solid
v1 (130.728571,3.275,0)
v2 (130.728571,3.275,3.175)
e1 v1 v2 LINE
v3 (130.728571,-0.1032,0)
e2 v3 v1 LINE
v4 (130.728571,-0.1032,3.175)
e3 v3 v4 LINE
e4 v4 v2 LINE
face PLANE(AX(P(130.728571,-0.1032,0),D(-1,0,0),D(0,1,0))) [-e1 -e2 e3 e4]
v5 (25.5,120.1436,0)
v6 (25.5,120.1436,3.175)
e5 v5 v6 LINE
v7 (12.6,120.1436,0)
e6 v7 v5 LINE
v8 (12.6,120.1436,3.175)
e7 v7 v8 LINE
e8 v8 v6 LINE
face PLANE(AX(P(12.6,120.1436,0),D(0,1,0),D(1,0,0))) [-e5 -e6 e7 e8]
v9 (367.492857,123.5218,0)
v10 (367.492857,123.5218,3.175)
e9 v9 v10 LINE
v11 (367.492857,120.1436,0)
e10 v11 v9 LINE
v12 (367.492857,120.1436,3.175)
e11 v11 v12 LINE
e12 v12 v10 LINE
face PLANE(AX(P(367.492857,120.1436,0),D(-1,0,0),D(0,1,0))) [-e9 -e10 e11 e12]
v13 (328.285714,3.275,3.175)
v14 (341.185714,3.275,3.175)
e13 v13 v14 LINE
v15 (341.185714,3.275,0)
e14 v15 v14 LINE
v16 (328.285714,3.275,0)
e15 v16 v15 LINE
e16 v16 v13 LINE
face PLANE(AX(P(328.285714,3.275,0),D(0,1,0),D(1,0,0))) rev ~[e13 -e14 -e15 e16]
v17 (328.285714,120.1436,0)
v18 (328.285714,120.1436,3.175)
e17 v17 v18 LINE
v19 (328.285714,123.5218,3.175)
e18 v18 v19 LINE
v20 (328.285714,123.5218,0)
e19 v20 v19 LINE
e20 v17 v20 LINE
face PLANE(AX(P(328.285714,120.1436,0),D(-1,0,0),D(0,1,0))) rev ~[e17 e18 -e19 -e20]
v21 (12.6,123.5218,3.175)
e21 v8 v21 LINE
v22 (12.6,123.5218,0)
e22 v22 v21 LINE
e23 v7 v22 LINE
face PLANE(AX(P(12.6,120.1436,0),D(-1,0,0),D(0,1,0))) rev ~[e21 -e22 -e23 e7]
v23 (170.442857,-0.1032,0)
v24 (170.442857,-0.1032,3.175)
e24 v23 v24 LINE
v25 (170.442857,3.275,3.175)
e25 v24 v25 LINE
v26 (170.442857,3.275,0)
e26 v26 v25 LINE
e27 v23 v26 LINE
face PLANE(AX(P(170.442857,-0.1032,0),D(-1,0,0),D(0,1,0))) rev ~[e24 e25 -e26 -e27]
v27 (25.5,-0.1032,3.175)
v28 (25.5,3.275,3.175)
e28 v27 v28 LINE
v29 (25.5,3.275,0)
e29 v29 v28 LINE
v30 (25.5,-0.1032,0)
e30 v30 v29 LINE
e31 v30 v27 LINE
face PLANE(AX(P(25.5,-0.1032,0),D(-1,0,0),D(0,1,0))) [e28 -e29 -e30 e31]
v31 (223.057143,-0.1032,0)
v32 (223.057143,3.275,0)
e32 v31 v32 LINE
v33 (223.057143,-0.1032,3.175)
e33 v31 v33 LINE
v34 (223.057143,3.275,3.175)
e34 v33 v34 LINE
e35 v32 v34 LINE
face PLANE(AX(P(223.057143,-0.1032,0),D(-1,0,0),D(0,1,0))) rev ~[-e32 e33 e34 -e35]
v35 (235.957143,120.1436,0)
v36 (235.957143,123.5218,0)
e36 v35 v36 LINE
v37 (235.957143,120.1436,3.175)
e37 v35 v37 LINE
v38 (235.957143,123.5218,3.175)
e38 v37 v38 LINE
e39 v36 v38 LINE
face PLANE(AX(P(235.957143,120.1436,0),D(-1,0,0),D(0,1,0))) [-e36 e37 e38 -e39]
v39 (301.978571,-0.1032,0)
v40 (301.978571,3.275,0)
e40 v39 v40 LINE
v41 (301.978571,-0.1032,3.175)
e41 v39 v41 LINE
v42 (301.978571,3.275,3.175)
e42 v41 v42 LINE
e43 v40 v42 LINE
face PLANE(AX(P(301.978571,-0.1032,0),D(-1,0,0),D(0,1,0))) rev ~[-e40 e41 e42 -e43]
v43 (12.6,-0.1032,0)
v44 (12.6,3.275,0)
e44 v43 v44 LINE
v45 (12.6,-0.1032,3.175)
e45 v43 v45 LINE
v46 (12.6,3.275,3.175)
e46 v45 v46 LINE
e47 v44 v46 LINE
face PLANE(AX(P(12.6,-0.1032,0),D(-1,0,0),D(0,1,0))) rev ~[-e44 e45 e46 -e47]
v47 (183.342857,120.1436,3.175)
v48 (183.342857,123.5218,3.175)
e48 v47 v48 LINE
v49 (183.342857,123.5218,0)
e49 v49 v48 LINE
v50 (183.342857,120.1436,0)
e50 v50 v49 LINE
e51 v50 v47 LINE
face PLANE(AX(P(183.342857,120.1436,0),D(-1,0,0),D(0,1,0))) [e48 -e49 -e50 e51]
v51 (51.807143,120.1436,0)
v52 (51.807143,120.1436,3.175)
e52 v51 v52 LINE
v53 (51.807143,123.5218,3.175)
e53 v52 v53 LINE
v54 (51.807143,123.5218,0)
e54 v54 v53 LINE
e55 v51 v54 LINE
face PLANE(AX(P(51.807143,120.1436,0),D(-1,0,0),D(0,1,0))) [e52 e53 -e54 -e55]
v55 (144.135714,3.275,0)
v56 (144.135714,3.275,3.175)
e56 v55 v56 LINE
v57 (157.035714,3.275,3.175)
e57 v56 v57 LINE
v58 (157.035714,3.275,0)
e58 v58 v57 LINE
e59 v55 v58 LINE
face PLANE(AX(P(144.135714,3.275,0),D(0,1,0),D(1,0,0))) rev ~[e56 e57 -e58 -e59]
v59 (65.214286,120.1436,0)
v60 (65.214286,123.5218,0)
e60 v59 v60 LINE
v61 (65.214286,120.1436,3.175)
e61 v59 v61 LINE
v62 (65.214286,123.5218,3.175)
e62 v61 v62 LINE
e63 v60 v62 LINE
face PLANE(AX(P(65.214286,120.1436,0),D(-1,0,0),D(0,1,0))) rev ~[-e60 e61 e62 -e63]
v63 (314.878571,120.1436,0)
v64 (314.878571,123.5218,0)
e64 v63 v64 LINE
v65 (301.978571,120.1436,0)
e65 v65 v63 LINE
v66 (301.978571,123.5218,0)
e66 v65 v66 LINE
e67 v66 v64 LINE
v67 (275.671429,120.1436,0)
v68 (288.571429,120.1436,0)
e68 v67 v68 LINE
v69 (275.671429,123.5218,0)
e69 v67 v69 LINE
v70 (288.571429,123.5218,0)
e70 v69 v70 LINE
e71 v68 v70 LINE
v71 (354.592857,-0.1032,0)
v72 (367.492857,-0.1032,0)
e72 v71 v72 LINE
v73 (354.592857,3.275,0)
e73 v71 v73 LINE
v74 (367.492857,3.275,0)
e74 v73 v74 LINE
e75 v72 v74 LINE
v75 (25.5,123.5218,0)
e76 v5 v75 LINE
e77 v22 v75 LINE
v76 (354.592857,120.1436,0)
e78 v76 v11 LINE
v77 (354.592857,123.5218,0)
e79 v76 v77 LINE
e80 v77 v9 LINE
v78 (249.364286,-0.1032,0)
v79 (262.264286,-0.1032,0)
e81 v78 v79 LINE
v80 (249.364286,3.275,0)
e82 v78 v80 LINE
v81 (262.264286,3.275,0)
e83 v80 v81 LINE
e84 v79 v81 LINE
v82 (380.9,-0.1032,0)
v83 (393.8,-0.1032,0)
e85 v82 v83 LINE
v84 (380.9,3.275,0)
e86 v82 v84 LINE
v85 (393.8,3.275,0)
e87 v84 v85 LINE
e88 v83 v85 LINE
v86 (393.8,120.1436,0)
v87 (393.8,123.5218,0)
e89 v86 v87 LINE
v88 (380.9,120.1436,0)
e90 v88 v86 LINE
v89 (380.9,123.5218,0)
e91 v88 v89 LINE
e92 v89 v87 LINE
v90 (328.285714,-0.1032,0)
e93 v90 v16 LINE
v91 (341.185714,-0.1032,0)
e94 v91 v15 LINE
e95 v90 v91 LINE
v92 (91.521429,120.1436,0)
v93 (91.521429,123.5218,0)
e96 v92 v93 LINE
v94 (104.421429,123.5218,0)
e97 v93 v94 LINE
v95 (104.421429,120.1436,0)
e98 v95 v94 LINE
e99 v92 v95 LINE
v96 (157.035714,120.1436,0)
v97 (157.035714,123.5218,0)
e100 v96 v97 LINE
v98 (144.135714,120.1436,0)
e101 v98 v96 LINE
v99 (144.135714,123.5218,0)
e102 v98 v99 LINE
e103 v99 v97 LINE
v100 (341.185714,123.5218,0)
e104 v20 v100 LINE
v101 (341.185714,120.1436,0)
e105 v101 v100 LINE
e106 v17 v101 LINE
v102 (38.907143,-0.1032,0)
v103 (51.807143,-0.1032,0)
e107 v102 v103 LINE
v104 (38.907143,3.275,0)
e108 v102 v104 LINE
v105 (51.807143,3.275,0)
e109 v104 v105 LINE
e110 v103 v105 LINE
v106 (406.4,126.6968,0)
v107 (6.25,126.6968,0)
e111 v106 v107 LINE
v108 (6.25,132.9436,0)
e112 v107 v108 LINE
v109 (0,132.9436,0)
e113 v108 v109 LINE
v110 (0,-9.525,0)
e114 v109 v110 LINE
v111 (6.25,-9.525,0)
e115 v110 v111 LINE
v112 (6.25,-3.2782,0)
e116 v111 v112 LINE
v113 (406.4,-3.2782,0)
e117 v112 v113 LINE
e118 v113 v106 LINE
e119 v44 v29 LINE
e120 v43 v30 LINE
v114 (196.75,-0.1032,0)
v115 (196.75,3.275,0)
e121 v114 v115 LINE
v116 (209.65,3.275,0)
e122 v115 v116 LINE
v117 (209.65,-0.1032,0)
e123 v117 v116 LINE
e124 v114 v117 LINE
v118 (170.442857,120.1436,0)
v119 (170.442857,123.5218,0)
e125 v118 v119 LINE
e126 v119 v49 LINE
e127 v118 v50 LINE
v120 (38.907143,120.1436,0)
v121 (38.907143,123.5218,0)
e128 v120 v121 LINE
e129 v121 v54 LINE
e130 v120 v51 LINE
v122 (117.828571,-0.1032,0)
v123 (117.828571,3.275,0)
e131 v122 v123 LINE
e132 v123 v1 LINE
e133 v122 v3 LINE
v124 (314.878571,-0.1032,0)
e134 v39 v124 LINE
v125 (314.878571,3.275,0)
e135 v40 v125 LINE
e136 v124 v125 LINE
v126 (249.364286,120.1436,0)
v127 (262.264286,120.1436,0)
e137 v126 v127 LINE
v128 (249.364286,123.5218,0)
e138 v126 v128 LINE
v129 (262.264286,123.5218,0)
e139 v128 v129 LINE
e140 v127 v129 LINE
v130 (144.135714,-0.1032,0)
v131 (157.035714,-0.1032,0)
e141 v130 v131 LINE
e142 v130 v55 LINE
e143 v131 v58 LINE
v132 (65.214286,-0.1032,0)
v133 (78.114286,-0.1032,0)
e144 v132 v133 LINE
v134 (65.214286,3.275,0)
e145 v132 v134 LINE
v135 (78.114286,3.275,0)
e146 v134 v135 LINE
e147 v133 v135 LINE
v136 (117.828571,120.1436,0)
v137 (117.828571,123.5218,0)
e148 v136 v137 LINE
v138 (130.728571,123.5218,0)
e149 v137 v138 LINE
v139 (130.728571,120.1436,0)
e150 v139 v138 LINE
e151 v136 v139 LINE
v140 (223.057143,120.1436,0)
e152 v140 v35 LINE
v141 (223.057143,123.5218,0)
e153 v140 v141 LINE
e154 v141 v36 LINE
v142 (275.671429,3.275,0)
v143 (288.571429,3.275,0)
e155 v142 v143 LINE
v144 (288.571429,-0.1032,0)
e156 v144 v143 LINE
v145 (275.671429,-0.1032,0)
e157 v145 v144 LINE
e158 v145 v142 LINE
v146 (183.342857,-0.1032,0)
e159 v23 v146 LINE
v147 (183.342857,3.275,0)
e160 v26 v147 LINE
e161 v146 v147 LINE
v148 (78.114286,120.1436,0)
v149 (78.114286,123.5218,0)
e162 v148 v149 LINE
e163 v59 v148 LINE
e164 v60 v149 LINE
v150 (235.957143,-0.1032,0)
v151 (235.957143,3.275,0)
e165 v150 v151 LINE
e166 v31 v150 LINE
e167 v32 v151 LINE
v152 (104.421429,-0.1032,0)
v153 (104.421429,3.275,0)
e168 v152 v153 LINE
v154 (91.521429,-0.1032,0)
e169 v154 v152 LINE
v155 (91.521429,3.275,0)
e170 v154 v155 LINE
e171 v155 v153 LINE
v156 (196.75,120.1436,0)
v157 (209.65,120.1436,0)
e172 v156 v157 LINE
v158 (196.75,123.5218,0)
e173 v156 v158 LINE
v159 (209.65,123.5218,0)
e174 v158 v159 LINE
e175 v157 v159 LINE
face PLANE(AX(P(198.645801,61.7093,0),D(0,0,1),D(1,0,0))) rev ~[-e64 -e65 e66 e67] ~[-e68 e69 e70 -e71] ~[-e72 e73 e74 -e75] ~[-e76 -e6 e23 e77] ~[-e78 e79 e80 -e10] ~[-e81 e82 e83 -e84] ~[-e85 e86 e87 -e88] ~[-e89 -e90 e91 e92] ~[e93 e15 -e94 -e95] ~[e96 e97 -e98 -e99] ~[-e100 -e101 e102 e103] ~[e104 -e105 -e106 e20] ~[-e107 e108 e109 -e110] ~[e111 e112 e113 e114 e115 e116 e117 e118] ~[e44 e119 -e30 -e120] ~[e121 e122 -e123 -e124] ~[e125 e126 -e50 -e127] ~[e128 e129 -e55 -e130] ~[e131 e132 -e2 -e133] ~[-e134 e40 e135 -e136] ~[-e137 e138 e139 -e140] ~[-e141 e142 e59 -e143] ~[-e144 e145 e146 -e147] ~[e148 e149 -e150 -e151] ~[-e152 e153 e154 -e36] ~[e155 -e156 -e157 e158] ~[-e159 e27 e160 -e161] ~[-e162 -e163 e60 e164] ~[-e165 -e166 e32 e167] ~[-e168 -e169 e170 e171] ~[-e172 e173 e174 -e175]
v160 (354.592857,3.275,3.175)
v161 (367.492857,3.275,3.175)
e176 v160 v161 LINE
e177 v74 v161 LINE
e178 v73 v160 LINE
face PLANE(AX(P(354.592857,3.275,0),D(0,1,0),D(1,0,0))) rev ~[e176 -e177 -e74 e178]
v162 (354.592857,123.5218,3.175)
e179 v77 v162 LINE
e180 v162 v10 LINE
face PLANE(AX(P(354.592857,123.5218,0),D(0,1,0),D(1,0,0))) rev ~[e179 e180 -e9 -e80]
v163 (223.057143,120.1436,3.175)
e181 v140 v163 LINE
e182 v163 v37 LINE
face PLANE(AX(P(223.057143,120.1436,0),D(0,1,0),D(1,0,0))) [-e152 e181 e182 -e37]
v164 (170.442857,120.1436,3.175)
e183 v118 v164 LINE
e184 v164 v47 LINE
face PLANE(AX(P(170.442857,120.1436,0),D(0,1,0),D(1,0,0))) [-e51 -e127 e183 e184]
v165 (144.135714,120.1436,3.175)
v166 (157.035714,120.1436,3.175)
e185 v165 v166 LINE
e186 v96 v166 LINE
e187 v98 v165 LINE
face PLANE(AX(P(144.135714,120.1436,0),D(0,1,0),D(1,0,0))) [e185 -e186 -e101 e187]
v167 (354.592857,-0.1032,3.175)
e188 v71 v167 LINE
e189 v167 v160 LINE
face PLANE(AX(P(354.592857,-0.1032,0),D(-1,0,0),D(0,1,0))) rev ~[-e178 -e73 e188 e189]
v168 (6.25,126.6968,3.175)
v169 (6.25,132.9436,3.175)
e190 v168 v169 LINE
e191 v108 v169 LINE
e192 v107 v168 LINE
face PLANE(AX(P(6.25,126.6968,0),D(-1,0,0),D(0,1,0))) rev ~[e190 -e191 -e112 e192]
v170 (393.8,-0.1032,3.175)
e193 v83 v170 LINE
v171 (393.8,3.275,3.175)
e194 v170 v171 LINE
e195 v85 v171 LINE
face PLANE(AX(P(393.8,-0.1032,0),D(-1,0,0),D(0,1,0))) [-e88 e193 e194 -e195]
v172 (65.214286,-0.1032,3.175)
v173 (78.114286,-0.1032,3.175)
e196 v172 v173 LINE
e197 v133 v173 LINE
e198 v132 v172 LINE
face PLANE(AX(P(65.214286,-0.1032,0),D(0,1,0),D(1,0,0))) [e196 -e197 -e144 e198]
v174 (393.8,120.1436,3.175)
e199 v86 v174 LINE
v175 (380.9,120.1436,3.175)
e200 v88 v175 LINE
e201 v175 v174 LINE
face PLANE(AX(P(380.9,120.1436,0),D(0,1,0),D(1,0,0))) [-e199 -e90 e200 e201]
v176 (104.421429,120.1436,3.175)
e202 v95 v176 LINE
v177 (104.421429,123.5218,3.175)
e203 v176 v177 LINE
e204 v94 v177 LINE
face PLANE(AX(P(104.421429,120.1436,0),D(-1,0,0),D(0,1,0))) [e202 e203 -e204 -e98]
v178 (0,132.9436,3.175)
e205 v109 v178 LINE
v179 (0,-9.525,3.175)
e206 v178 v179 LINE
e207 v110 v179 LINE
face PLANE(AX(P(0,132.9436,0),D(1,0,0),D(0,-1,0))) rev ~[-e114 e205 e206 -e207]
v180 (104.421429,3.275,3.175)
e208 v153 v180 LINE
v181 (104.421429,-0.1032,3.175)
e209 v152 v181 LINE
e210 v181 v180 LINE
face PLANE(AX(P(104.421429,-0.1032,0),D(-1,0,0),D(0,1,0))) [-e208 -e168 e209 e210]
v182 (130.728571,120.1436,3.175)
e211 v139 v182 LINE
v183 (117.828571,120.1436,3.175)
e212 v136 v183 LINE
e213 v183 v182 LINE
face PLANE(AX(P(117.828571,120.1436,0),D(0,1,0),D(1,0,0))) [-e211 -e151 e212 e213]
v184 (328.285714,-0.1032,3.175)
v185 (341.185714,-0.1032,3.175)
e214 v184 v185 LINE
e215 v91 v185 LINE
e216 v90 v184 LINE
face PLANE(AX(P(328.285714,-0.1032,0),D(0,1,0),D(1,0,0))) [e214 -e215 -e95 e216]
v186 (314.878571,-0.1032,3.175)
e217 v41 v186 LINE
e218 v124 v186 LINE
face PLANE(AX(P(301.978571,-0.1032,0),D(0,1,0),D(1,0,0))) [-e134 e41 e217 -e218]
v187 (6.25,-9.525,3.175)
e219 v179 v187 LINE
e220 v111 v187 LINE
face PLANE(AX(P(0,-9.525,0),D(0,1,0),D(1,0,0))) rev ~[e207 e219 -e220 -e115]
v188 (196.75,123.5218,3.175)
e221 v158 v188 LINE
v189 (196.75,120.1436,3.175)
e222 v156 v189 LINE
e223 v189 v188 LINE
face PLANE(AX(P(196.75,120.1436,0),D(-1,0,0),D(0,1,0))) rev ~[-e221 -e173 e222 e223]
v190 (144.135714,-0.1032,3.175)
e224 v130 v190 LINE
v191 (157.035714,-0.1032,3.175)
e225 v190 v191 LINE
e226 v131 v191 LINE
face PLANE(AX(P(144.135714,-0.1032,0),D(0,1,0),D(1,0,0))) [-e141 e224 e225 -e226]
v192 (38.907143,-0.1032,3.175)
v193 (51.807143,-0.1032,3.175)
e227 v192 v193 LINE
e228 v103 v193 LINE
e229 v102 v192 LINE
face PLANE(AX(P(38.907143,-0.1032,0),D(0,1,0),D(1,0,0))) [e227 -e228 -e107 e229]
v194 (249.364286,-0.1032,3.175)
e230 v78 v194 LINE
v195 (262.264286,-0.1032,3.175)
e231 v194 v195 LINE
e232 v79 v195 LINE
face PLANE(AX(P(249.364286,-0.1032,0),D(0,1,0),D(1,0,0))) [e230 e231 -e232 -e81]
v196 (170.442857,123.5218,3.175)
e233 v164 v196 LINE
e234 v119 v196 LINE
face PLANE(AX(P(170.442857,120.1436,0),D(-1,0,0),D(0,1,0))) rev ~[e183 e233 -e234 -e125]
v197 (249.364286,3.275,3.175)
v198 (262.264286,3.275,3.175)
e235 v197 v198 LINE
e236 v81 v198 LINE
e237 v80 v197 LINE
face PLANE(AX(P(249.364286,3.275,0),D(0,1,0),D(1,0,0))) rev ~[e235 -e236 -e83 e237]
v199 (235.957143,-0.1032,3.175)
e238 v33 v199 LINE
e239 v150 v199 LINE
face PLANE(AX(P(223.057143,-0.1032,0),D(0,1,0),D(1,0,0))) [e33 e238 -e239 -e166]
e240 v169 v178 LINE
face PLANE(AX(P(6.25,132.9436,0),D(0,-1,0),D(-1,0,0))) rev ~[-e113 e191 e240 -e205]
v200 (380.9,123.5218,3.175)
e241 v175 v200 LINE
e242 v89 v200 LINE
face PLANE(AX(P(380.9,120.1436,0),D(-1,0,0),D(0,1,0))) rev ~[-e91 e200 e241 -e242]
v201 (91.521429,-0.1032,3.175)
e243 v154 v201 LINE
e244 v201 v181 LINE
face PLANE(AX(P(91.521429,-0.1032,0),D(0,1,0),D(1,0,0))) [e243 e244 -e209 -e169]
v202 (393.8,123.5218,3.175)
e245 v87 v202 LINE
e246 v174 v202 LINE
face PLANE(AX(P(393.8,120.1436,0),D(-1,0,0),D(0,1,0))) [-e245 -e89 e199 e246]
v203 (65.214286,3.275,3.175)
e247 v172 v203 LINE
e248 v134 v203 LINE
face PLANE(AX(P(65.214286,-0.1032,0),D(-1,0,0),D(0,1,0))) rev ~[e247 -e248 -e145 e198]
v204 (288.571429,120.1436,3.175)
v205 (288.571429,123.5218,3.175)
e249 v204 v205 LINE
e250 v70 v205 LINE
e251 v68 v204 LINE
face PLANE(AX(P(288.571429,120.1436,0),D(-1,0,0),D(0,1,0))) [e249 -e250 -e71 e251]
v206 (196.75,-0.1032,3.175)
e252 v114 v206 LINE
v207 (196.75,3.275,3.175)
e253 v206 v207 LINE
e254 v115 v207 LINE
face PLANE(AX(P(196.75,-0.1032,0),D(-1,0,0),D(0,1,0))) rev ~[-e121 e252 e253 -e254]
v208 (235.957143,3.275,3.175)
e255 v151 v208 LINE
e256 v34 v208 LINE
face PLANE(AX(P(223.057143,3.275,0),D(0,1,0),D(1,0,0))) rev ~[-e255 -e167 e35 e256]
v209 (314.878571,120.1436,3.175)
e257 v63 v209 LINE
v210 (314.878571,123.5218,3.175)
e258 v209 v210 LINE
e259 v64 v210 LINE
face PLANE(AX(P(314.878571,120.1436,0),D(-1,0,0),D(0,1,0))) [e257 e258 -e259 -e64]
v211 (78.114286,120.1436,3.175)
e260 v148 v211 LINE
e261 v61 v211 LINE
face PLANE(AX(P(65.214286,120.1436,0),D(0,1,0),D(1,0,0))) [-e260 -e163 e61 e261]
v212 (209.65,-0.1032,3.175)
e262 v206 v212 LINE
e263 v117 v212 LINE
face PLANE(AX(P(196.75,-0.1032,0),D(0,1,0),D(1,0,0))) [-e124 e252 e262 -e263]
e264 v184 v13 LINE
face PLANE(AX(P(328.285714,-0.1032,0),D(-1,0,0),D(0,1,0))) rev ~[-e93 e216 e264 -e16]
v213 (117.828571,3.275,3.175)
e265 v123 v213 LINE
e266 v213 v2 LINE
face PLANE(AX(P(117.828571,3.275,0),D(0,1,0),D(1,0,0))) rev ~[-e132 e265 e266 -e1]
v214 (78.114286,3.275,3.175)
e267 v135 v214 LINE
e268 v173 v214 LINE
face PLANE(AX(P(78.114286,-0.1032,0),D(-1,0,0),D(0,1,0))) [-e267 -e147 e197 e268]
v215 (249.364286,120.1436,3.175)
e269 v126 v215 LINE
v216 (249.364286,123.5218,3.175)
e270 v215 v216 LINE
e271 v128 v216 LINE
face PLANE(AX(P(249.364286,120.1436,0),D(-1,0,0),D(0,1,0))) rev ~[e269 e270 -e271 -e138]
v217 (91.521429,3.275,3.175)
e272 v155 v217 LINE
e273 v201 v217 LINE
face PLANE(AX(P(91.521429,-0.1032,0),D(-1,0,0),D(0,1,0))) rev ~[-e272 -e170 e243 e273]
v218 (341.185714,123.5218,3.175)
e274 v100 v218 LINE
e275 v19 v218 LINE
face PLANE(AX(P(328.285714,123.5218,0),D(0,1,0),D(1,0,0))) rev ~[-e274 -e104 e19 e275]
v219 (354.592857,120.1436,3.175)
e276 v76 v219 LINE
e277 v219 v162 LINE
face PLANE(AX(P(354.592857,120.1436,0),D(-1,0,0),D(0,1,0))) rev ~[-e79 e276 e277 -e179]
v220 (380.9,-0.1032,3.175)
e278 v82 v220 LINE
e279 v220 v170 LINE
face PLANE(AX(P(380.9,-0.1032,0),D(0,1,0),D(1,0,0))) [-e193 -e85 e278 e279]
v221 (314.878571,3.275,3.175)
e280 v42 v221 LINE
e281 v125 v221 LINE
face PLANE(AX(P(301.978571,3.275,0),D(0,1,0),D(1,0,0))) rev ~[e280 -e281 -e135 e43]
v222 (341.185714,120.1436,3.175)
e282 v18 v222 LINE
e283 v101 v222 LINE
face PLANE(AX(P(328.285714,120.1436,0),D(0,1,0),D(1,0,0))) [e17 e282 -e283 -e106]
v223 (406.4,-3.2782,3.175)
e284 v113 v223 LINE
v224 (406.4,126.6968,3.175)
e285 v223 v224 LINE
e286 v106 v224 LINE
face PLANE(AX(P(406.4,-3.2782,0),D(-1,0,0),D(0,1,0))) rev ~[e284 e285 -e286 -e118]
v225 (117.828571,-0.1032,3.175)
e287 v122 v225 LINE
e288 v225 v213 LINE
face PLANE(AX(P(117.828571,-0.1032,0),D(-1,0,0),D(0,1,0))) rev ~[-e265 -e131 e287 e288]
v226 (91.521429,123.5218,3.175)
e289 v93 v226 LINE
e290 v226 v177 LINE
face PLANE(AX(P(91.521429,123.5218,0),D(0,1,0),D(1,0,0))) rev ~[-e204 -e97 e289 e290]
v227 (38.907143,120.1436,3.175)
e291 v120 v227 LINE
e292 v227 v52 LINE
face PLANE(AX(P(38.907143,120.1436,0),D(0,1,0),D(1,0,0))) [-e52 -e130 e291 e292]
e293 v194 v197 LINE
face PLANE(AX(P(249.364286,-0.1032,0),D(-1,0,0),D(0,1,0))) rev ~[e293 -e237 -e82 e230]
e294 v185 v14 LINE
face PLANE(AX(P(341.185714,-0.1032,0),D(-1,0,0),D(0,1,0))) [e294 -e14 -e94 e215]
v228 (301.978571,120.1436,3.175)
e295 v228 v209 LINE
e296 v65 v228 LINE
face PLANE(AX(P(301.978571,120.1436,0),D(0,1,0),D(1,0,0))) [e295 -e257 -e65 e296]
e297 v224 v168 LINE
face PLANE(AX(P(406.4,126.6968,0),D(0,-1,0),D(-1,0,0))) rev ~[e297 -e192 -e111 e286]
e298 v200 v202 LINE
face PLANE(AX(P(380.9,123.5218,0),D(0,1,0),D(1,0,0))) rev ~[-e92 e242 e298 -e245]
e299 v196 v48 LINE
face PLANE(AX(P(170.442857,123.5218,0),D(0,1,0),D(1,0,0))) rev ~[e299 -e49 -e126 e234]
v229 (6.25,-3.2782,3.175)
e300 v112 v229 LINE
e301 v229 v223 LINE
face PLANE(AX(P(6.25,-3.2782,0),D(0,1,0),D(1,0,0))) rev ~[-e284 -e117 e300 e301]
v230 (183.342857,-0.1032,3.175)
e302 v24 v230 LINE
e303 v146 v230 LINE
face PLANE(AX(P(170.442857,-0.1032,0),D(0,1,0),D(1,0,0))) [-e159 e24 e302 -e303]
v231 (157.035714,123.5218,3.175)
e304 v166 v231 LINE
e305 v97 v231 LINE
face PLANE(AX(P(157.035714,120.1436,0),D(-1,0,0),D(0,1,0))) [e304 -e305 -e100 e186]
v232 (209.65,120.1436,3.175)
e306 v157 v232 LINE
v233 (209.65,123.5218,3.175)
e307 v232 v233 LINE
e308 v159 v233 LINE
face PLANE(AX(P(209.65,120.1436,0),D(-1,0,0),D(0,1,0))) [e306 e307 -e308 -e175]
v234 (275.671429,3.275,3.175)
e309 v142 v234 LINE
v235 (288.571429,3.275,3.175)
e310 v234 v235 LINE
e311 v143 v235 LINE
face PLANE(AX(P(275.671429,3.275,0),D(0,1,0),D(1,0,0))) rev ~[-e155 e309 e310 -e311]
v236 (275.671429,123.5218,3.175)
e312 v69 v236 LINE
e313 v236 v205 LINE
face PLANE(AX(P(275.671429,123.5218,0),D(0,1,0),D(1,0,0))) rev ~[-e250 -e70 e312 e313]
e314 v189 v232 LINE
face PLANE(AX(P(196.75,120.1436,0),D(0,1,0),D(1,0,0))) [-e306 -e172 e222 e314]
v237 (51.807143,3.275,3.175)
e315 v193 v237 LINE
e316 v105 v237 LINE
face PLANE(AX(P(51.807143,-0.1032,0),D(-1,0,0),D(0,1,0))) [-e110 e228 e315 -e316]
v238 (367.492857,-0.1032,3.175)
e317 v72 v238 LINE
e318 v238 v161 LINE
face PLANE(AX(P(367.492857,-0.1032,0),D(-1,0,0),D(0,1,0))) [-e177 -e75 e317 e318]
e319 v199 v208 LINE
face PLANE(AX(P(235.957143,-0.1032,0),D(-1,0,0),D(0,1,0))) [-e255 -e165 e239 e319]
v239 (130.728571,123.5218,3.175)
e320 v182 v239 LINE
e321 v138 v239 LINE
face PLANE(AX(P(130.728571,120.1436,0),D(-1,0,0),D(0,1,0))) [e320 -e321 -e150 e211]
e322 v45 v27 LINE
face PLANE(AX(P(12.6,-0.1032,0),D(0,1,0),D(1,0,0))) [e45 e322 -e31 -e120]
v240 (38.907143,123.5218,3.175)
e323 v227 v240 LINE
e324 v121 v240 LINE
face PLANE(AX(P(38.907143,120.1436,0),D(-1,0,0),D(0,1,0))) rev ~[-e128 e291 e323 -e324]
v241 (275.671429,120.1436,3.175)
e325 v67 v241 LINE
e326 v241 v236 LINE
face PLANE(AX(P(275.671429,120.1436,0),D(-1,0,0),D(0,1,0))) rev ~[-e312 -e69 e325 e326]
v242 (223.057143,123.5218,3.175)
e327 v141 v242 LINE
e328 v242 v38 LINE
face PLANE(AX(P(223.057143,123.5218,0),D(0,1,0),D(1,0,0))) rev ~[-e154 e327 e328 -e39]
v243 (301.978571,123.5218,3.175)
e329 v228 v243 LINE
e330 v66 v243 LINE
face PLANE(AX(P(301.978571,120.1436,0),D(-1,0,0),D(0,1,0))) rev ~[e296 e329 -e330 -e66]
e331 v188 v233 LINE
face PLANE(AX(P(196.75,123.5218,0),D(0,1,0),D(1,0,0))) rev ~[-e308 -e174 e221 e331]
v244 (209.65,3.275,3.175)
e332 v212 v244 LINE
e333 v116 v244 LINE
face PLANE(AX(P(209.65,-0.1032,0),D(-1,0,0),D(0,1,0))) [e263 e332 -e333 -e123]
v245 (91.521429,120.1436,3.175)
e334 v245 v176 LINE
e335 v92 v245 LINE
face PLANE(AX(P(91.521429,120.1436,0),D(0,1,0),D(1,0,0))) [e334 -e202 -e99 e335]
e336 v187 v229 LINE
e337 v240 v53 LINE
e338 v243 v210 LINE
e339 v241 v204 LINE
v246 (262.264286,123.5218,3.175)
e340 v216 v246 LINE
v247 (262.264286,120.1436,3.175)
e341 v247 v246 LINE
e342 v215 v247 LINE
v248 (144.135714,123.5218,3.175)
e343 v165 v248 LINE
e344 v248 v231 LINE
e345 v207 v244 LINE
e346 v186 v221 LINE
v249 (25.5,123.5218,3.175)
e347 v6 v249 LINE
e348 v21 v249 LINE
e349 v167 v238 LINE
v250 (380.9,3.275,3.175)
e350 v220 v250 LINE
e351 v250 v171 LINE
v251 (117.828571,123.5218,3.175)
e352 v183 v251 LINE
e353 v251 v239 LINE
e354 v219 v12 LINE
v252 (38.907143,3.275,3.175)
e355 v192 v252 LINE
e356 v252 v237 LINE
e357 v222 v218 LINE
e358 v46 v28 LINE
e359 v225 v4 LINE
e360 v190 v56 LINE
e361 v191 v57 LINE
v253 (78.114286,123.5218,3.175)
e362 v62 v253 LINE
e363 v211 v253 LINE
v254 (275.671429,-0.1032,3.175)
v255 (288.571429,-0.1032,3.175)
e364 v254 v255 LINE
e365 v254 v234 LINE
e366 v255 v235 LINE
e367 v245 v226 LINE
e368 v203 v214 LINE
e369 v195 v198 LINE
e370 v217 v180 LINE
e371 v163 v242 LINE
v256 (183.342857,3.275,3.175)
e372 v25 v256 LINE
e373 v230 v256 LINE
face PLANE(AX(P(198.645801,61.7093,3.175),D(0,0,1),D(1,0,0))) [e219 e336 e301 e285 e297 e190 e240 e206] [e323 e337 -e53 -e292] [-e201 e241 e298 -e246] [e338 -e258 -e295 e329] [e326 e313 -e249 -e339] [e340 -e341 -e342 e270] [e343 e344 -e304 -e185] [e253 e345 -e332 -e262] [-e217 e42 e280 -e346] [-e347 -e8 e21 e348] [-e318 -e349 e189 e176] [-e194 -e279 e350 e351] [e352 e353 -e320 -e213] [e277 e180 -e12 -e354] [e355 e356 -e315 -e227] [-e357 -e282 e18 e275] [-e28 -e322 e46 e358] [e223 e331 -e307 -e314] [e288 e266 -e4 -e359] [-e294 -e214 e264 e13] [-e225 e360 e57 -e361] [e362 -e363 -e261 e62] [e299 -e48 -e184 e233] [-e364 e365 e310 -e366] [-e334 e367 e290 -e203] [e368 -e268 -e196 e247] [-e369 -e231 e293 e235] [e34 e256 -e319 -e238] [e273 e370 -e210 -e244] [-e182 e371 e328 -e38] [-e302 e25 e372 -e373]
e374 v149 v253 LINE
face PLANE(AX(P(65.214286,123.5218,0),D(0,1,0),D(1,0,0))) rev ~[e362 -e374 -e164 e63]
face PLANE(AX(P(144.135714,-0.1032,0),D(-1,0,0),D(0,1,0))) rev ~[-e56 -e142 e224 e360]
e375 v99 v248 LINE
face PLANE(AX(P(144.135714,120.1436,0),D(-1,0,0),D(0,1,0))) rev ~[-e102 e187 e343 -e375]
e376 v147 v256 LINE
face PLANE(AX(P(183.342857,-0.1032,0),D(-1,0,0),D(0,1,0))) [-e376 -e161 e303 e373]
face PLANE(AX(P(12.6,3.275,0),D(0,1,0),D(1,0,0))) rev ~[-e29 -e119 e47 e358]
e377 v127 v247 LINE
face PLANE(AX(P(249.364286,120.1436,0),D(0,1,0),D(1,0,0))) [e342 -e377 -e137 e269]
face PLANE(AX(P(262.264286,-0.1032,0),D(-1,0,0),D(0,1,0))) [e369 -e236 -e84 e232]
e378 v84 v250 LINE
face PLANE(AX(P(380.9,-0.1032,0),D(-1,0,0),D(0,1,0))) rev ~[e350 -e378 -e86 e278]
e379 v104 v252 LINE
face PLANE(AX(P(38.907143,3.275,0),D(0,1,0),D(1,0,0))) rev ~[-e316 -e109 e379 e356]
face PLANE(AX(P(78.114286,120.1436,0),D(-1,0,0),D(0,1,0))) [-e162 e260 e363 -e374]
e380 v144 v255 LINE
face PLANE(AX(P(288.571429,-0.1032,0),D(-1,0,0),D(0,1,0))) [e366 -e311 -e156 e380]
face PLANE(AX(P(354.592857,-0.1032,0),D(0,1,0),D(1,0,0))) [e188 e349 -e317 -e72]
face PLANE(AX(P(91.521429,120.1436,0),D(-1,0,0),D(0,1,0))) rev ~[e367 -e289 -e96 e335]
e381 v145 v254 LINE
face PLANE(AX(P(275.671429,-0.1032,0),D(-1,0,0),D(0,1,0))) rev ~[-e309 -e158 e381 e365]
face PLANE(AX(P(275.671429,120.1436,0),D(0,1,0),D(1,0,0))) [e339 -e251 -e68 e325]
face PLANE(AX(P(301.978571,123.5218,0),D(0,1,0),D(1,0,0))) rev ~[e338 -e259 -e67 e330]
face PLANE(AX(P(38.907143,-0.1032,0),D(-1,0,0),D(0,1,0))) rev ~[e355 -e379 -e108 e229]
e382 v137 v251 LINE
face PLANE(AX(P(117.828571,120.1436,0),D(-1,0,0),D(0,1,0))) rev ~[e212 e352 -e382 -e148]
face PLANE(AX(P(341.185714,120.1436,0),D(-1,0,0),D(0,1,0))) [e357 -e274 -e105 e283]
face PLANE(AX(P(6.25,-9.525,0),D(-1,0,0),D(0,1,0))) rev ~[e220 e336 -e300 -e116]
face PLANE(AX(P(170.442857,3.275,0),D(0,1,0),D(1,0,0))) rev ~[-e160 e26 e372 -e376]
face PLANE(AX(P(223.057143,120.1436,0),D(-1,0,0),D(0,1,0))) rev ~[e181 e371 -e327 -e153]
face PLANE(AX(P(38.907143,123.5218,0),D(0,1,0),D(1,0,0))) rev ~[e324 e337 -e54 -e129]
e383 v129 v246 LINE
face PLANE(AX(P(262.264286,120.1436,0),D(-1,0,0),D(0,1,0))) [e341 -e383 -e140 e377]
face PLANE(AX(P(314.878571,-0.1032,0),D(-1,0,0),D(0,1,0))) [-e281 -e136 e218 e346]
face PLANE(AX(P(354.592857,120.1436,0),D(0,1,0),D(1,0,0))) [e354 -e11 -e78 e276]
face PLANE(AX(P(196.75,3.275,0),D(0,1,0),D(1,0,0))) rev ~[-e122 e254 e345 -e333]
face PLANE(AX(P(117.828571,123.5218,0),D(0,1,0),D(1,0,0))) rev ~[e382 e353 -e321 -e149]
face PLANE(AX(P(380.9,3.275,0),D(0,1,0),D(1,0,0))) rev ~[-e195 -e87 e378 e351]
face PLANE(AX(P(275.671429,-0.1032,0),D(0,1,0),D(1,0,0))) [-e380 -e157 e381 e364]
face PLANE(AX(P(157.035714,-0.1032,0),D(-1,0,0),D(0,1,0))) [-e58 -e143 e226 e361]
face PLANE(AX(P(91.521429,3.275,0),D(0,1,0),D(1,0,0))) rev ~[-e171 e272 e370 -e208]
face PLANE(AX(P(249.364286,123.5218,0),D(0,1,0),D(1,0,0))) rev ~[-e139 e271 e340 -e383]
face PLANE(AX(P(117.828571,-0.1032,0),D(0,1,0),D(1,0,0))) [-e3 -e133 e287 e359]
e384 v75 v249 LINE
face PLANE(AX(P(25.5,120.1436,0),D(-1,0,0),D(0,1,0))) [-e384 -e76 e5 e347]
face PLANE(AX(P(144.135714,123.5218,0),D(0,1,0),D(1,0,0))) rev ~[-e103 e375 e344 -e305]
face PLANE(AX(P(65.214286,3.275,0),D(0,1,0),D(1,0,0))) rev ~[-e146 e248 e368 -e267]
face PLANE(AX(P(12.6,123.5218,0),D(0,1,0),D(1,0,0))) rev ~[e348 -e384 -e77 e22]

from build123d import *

# Parameters (mm, degrees)
SKETCH1_W           = 12.9
SKETCH1_H           = 3.3782
BOSS_EXTRUDE2_DEPTH = 3.175


with BuildPart() as part:
    # Sketch1 → Boss-Extrude2 (new body)
    with BuildSketch(Plane.XY):
        Polygon((6.2500002, -9.525), (6.2500002, -3.2782), (406.4, -3.2782), (406.4, 126.6968), (6.2500002, 126.6968), (6.2500002, 132.9436), (0, 132.9436), (0, -9.525), align=None)
        with Locations((19.05, 121.8327)):
            Rectangle(SKETCH1_W, SKETCH1_H, mode=Mode.SUBTRACT)
        with Locations((45.357142857, 121.8327)):
            Rectangle(SKETCH1_W, SKETCH1_H, mode=Mode.SUBTRACT)
        with Locations((387.35, 121.8327)):
            Rectangle(SKETCH1_W, SKETCH1_H, mode=Mode.SUBTRACT)
        with Locations((361.042857143, 121.8327)):
            Rectangle(SKETCH1_W, SKETCH1_H, mode=Mode.SUBTRACT)
        with Locations((71.664285714, 121.8327)):
            Rectangle(SKETCH1_W, SKETCH1_H, mode=Mode.SUBTRACT)
        with Locations((97.971428571, 121.8327)):
            Rectangle(SKETCH1_W, SKETCH1_H, mode=Mode.SUBTRACT)
        with Locations((124.278571429, 121.8327)):
            Rectangle(SKETCH1_W, SKETCH1_H, mode=Mode.SUBTRACT)
        with Locations((150.585714286, 121.8327)):
            Rectangle(SKETCH1_W, SKETCH1_H, mode=Mode.SUBTRACT)
        with Locations((176.892857143, 121.8327)):
            Rectangle(SKETCH1_W, SKETCH1_H, mode=Mode.SUBTRACT)
        with Locations((203.2, 121.8327)):
            Rectangle(SKETCH1_W, SKETCH1_H, mode=Mode.SUBTRACT)
        with Locations((229.507142857, 121.8327)):
            Rectangle(SKETCH1_W, SKETCH1_H, mode=Mode.SUBTRACT)
        with Locations((255.814285714, 121.8327)):
            Rectangle(SKETCH1_W, SKETCH1_H, mode=Mode.SUBTRACT)
        with Locations((282.121428571, 121.8327)):
            Rectangle(SKETCH1_W, SKETCH1_H, mode=Mode.SUBTRACT)
        with Locations((308.428571429, 121.8327)):
            Rectangle(SKETCH1_W, SKETCH1_H, mode=Mode.SUBTRACT)
        with Locations((334.735714286, 121.8327)):
            Rectangle(SKETCH1_W, SKETCH1_H, mode=Mode.SUBTRACT)
        with Locations((387.35, 1.5859)):
            Rectangle(SKETCH1_W, SKETCH1_H, mode=Mode.SUBTRACT)
        with Locations((361.042857143, 1.5859)):
            Rectangle(SKETCH1_W, SKETCH1_H, mode=Mode.SUBTRACT)
        with Locations((334.735714286, 1.5859)):
            Rectangle(SKETCH1_W, SKETCH1_H, mode=Mode.SUBTRACT)
        with Locations((308.428571429, 1.5859)):
            Rectangle(SKETCH1_W, SKETCH1_H, mode=Mode.SUBTRACT)
        with Locations((282.121428571, 1.5859)):
            Rectangle(SKETCH1_W, SKETCH1_H, mode=Mode.SUBTRACT)
        with Locations((255.814285714, 1.5859)):
            Rectangle(SKETCH1_W, SKETCH1_H, mode=Mode.SUBTRACT)
        with Locations((229.507142857, 1.5859)):
            Rectangle(SKETCH1_W, SKETCH1_H, mode=Mode.SUBTRACT)
        with Locations((203.2, 1.5859)):
            Rectangle(SKETCH1_W, SKETCH1_H, mode=Mode.SUBTRACT)
        with Locations((176.892857143, 1.5859)):
            Rectangle(SKETCH1_W, SKETCH1_H, mode=Mode.SUBTRACT)
        with Locations((150.585714286, 1.5859)):
            Rectangle(SKETCH1_W, SKETCH1_H, mode=Mode.SUBTRACT)
        with Locations((124.278571429, 1.5859)):
            Rectangle(SKETCH1_W, SKETCH1_H, mode=Mode.SUBTRACT)
        with Locations((97.971428571, 1.5859)):
            Rectangle(SKETCH1_W, SKETCH1_H, mode=Mode.SUBTRACT)
        with Locations((71.664285714, 1.5859)):
            Rectangle(SKETCH1_W, SKETCH1_H, mode=Mode.SUBTRACT)
        with Locations((45.357142857, 1.5859)):
            Rectangle(SKETCH1_W, SKETCH1_H, mode=Mode.SUBTRACT)
        with Locations((19.05, 1.5859)):
            Rectangle(SKETCH1_W, SKETCH1_H, mode=Mode.SUBTRACT)
    extrude(amount=BOSS_EXTRUDE2_DEPTH)


solid = part.part
